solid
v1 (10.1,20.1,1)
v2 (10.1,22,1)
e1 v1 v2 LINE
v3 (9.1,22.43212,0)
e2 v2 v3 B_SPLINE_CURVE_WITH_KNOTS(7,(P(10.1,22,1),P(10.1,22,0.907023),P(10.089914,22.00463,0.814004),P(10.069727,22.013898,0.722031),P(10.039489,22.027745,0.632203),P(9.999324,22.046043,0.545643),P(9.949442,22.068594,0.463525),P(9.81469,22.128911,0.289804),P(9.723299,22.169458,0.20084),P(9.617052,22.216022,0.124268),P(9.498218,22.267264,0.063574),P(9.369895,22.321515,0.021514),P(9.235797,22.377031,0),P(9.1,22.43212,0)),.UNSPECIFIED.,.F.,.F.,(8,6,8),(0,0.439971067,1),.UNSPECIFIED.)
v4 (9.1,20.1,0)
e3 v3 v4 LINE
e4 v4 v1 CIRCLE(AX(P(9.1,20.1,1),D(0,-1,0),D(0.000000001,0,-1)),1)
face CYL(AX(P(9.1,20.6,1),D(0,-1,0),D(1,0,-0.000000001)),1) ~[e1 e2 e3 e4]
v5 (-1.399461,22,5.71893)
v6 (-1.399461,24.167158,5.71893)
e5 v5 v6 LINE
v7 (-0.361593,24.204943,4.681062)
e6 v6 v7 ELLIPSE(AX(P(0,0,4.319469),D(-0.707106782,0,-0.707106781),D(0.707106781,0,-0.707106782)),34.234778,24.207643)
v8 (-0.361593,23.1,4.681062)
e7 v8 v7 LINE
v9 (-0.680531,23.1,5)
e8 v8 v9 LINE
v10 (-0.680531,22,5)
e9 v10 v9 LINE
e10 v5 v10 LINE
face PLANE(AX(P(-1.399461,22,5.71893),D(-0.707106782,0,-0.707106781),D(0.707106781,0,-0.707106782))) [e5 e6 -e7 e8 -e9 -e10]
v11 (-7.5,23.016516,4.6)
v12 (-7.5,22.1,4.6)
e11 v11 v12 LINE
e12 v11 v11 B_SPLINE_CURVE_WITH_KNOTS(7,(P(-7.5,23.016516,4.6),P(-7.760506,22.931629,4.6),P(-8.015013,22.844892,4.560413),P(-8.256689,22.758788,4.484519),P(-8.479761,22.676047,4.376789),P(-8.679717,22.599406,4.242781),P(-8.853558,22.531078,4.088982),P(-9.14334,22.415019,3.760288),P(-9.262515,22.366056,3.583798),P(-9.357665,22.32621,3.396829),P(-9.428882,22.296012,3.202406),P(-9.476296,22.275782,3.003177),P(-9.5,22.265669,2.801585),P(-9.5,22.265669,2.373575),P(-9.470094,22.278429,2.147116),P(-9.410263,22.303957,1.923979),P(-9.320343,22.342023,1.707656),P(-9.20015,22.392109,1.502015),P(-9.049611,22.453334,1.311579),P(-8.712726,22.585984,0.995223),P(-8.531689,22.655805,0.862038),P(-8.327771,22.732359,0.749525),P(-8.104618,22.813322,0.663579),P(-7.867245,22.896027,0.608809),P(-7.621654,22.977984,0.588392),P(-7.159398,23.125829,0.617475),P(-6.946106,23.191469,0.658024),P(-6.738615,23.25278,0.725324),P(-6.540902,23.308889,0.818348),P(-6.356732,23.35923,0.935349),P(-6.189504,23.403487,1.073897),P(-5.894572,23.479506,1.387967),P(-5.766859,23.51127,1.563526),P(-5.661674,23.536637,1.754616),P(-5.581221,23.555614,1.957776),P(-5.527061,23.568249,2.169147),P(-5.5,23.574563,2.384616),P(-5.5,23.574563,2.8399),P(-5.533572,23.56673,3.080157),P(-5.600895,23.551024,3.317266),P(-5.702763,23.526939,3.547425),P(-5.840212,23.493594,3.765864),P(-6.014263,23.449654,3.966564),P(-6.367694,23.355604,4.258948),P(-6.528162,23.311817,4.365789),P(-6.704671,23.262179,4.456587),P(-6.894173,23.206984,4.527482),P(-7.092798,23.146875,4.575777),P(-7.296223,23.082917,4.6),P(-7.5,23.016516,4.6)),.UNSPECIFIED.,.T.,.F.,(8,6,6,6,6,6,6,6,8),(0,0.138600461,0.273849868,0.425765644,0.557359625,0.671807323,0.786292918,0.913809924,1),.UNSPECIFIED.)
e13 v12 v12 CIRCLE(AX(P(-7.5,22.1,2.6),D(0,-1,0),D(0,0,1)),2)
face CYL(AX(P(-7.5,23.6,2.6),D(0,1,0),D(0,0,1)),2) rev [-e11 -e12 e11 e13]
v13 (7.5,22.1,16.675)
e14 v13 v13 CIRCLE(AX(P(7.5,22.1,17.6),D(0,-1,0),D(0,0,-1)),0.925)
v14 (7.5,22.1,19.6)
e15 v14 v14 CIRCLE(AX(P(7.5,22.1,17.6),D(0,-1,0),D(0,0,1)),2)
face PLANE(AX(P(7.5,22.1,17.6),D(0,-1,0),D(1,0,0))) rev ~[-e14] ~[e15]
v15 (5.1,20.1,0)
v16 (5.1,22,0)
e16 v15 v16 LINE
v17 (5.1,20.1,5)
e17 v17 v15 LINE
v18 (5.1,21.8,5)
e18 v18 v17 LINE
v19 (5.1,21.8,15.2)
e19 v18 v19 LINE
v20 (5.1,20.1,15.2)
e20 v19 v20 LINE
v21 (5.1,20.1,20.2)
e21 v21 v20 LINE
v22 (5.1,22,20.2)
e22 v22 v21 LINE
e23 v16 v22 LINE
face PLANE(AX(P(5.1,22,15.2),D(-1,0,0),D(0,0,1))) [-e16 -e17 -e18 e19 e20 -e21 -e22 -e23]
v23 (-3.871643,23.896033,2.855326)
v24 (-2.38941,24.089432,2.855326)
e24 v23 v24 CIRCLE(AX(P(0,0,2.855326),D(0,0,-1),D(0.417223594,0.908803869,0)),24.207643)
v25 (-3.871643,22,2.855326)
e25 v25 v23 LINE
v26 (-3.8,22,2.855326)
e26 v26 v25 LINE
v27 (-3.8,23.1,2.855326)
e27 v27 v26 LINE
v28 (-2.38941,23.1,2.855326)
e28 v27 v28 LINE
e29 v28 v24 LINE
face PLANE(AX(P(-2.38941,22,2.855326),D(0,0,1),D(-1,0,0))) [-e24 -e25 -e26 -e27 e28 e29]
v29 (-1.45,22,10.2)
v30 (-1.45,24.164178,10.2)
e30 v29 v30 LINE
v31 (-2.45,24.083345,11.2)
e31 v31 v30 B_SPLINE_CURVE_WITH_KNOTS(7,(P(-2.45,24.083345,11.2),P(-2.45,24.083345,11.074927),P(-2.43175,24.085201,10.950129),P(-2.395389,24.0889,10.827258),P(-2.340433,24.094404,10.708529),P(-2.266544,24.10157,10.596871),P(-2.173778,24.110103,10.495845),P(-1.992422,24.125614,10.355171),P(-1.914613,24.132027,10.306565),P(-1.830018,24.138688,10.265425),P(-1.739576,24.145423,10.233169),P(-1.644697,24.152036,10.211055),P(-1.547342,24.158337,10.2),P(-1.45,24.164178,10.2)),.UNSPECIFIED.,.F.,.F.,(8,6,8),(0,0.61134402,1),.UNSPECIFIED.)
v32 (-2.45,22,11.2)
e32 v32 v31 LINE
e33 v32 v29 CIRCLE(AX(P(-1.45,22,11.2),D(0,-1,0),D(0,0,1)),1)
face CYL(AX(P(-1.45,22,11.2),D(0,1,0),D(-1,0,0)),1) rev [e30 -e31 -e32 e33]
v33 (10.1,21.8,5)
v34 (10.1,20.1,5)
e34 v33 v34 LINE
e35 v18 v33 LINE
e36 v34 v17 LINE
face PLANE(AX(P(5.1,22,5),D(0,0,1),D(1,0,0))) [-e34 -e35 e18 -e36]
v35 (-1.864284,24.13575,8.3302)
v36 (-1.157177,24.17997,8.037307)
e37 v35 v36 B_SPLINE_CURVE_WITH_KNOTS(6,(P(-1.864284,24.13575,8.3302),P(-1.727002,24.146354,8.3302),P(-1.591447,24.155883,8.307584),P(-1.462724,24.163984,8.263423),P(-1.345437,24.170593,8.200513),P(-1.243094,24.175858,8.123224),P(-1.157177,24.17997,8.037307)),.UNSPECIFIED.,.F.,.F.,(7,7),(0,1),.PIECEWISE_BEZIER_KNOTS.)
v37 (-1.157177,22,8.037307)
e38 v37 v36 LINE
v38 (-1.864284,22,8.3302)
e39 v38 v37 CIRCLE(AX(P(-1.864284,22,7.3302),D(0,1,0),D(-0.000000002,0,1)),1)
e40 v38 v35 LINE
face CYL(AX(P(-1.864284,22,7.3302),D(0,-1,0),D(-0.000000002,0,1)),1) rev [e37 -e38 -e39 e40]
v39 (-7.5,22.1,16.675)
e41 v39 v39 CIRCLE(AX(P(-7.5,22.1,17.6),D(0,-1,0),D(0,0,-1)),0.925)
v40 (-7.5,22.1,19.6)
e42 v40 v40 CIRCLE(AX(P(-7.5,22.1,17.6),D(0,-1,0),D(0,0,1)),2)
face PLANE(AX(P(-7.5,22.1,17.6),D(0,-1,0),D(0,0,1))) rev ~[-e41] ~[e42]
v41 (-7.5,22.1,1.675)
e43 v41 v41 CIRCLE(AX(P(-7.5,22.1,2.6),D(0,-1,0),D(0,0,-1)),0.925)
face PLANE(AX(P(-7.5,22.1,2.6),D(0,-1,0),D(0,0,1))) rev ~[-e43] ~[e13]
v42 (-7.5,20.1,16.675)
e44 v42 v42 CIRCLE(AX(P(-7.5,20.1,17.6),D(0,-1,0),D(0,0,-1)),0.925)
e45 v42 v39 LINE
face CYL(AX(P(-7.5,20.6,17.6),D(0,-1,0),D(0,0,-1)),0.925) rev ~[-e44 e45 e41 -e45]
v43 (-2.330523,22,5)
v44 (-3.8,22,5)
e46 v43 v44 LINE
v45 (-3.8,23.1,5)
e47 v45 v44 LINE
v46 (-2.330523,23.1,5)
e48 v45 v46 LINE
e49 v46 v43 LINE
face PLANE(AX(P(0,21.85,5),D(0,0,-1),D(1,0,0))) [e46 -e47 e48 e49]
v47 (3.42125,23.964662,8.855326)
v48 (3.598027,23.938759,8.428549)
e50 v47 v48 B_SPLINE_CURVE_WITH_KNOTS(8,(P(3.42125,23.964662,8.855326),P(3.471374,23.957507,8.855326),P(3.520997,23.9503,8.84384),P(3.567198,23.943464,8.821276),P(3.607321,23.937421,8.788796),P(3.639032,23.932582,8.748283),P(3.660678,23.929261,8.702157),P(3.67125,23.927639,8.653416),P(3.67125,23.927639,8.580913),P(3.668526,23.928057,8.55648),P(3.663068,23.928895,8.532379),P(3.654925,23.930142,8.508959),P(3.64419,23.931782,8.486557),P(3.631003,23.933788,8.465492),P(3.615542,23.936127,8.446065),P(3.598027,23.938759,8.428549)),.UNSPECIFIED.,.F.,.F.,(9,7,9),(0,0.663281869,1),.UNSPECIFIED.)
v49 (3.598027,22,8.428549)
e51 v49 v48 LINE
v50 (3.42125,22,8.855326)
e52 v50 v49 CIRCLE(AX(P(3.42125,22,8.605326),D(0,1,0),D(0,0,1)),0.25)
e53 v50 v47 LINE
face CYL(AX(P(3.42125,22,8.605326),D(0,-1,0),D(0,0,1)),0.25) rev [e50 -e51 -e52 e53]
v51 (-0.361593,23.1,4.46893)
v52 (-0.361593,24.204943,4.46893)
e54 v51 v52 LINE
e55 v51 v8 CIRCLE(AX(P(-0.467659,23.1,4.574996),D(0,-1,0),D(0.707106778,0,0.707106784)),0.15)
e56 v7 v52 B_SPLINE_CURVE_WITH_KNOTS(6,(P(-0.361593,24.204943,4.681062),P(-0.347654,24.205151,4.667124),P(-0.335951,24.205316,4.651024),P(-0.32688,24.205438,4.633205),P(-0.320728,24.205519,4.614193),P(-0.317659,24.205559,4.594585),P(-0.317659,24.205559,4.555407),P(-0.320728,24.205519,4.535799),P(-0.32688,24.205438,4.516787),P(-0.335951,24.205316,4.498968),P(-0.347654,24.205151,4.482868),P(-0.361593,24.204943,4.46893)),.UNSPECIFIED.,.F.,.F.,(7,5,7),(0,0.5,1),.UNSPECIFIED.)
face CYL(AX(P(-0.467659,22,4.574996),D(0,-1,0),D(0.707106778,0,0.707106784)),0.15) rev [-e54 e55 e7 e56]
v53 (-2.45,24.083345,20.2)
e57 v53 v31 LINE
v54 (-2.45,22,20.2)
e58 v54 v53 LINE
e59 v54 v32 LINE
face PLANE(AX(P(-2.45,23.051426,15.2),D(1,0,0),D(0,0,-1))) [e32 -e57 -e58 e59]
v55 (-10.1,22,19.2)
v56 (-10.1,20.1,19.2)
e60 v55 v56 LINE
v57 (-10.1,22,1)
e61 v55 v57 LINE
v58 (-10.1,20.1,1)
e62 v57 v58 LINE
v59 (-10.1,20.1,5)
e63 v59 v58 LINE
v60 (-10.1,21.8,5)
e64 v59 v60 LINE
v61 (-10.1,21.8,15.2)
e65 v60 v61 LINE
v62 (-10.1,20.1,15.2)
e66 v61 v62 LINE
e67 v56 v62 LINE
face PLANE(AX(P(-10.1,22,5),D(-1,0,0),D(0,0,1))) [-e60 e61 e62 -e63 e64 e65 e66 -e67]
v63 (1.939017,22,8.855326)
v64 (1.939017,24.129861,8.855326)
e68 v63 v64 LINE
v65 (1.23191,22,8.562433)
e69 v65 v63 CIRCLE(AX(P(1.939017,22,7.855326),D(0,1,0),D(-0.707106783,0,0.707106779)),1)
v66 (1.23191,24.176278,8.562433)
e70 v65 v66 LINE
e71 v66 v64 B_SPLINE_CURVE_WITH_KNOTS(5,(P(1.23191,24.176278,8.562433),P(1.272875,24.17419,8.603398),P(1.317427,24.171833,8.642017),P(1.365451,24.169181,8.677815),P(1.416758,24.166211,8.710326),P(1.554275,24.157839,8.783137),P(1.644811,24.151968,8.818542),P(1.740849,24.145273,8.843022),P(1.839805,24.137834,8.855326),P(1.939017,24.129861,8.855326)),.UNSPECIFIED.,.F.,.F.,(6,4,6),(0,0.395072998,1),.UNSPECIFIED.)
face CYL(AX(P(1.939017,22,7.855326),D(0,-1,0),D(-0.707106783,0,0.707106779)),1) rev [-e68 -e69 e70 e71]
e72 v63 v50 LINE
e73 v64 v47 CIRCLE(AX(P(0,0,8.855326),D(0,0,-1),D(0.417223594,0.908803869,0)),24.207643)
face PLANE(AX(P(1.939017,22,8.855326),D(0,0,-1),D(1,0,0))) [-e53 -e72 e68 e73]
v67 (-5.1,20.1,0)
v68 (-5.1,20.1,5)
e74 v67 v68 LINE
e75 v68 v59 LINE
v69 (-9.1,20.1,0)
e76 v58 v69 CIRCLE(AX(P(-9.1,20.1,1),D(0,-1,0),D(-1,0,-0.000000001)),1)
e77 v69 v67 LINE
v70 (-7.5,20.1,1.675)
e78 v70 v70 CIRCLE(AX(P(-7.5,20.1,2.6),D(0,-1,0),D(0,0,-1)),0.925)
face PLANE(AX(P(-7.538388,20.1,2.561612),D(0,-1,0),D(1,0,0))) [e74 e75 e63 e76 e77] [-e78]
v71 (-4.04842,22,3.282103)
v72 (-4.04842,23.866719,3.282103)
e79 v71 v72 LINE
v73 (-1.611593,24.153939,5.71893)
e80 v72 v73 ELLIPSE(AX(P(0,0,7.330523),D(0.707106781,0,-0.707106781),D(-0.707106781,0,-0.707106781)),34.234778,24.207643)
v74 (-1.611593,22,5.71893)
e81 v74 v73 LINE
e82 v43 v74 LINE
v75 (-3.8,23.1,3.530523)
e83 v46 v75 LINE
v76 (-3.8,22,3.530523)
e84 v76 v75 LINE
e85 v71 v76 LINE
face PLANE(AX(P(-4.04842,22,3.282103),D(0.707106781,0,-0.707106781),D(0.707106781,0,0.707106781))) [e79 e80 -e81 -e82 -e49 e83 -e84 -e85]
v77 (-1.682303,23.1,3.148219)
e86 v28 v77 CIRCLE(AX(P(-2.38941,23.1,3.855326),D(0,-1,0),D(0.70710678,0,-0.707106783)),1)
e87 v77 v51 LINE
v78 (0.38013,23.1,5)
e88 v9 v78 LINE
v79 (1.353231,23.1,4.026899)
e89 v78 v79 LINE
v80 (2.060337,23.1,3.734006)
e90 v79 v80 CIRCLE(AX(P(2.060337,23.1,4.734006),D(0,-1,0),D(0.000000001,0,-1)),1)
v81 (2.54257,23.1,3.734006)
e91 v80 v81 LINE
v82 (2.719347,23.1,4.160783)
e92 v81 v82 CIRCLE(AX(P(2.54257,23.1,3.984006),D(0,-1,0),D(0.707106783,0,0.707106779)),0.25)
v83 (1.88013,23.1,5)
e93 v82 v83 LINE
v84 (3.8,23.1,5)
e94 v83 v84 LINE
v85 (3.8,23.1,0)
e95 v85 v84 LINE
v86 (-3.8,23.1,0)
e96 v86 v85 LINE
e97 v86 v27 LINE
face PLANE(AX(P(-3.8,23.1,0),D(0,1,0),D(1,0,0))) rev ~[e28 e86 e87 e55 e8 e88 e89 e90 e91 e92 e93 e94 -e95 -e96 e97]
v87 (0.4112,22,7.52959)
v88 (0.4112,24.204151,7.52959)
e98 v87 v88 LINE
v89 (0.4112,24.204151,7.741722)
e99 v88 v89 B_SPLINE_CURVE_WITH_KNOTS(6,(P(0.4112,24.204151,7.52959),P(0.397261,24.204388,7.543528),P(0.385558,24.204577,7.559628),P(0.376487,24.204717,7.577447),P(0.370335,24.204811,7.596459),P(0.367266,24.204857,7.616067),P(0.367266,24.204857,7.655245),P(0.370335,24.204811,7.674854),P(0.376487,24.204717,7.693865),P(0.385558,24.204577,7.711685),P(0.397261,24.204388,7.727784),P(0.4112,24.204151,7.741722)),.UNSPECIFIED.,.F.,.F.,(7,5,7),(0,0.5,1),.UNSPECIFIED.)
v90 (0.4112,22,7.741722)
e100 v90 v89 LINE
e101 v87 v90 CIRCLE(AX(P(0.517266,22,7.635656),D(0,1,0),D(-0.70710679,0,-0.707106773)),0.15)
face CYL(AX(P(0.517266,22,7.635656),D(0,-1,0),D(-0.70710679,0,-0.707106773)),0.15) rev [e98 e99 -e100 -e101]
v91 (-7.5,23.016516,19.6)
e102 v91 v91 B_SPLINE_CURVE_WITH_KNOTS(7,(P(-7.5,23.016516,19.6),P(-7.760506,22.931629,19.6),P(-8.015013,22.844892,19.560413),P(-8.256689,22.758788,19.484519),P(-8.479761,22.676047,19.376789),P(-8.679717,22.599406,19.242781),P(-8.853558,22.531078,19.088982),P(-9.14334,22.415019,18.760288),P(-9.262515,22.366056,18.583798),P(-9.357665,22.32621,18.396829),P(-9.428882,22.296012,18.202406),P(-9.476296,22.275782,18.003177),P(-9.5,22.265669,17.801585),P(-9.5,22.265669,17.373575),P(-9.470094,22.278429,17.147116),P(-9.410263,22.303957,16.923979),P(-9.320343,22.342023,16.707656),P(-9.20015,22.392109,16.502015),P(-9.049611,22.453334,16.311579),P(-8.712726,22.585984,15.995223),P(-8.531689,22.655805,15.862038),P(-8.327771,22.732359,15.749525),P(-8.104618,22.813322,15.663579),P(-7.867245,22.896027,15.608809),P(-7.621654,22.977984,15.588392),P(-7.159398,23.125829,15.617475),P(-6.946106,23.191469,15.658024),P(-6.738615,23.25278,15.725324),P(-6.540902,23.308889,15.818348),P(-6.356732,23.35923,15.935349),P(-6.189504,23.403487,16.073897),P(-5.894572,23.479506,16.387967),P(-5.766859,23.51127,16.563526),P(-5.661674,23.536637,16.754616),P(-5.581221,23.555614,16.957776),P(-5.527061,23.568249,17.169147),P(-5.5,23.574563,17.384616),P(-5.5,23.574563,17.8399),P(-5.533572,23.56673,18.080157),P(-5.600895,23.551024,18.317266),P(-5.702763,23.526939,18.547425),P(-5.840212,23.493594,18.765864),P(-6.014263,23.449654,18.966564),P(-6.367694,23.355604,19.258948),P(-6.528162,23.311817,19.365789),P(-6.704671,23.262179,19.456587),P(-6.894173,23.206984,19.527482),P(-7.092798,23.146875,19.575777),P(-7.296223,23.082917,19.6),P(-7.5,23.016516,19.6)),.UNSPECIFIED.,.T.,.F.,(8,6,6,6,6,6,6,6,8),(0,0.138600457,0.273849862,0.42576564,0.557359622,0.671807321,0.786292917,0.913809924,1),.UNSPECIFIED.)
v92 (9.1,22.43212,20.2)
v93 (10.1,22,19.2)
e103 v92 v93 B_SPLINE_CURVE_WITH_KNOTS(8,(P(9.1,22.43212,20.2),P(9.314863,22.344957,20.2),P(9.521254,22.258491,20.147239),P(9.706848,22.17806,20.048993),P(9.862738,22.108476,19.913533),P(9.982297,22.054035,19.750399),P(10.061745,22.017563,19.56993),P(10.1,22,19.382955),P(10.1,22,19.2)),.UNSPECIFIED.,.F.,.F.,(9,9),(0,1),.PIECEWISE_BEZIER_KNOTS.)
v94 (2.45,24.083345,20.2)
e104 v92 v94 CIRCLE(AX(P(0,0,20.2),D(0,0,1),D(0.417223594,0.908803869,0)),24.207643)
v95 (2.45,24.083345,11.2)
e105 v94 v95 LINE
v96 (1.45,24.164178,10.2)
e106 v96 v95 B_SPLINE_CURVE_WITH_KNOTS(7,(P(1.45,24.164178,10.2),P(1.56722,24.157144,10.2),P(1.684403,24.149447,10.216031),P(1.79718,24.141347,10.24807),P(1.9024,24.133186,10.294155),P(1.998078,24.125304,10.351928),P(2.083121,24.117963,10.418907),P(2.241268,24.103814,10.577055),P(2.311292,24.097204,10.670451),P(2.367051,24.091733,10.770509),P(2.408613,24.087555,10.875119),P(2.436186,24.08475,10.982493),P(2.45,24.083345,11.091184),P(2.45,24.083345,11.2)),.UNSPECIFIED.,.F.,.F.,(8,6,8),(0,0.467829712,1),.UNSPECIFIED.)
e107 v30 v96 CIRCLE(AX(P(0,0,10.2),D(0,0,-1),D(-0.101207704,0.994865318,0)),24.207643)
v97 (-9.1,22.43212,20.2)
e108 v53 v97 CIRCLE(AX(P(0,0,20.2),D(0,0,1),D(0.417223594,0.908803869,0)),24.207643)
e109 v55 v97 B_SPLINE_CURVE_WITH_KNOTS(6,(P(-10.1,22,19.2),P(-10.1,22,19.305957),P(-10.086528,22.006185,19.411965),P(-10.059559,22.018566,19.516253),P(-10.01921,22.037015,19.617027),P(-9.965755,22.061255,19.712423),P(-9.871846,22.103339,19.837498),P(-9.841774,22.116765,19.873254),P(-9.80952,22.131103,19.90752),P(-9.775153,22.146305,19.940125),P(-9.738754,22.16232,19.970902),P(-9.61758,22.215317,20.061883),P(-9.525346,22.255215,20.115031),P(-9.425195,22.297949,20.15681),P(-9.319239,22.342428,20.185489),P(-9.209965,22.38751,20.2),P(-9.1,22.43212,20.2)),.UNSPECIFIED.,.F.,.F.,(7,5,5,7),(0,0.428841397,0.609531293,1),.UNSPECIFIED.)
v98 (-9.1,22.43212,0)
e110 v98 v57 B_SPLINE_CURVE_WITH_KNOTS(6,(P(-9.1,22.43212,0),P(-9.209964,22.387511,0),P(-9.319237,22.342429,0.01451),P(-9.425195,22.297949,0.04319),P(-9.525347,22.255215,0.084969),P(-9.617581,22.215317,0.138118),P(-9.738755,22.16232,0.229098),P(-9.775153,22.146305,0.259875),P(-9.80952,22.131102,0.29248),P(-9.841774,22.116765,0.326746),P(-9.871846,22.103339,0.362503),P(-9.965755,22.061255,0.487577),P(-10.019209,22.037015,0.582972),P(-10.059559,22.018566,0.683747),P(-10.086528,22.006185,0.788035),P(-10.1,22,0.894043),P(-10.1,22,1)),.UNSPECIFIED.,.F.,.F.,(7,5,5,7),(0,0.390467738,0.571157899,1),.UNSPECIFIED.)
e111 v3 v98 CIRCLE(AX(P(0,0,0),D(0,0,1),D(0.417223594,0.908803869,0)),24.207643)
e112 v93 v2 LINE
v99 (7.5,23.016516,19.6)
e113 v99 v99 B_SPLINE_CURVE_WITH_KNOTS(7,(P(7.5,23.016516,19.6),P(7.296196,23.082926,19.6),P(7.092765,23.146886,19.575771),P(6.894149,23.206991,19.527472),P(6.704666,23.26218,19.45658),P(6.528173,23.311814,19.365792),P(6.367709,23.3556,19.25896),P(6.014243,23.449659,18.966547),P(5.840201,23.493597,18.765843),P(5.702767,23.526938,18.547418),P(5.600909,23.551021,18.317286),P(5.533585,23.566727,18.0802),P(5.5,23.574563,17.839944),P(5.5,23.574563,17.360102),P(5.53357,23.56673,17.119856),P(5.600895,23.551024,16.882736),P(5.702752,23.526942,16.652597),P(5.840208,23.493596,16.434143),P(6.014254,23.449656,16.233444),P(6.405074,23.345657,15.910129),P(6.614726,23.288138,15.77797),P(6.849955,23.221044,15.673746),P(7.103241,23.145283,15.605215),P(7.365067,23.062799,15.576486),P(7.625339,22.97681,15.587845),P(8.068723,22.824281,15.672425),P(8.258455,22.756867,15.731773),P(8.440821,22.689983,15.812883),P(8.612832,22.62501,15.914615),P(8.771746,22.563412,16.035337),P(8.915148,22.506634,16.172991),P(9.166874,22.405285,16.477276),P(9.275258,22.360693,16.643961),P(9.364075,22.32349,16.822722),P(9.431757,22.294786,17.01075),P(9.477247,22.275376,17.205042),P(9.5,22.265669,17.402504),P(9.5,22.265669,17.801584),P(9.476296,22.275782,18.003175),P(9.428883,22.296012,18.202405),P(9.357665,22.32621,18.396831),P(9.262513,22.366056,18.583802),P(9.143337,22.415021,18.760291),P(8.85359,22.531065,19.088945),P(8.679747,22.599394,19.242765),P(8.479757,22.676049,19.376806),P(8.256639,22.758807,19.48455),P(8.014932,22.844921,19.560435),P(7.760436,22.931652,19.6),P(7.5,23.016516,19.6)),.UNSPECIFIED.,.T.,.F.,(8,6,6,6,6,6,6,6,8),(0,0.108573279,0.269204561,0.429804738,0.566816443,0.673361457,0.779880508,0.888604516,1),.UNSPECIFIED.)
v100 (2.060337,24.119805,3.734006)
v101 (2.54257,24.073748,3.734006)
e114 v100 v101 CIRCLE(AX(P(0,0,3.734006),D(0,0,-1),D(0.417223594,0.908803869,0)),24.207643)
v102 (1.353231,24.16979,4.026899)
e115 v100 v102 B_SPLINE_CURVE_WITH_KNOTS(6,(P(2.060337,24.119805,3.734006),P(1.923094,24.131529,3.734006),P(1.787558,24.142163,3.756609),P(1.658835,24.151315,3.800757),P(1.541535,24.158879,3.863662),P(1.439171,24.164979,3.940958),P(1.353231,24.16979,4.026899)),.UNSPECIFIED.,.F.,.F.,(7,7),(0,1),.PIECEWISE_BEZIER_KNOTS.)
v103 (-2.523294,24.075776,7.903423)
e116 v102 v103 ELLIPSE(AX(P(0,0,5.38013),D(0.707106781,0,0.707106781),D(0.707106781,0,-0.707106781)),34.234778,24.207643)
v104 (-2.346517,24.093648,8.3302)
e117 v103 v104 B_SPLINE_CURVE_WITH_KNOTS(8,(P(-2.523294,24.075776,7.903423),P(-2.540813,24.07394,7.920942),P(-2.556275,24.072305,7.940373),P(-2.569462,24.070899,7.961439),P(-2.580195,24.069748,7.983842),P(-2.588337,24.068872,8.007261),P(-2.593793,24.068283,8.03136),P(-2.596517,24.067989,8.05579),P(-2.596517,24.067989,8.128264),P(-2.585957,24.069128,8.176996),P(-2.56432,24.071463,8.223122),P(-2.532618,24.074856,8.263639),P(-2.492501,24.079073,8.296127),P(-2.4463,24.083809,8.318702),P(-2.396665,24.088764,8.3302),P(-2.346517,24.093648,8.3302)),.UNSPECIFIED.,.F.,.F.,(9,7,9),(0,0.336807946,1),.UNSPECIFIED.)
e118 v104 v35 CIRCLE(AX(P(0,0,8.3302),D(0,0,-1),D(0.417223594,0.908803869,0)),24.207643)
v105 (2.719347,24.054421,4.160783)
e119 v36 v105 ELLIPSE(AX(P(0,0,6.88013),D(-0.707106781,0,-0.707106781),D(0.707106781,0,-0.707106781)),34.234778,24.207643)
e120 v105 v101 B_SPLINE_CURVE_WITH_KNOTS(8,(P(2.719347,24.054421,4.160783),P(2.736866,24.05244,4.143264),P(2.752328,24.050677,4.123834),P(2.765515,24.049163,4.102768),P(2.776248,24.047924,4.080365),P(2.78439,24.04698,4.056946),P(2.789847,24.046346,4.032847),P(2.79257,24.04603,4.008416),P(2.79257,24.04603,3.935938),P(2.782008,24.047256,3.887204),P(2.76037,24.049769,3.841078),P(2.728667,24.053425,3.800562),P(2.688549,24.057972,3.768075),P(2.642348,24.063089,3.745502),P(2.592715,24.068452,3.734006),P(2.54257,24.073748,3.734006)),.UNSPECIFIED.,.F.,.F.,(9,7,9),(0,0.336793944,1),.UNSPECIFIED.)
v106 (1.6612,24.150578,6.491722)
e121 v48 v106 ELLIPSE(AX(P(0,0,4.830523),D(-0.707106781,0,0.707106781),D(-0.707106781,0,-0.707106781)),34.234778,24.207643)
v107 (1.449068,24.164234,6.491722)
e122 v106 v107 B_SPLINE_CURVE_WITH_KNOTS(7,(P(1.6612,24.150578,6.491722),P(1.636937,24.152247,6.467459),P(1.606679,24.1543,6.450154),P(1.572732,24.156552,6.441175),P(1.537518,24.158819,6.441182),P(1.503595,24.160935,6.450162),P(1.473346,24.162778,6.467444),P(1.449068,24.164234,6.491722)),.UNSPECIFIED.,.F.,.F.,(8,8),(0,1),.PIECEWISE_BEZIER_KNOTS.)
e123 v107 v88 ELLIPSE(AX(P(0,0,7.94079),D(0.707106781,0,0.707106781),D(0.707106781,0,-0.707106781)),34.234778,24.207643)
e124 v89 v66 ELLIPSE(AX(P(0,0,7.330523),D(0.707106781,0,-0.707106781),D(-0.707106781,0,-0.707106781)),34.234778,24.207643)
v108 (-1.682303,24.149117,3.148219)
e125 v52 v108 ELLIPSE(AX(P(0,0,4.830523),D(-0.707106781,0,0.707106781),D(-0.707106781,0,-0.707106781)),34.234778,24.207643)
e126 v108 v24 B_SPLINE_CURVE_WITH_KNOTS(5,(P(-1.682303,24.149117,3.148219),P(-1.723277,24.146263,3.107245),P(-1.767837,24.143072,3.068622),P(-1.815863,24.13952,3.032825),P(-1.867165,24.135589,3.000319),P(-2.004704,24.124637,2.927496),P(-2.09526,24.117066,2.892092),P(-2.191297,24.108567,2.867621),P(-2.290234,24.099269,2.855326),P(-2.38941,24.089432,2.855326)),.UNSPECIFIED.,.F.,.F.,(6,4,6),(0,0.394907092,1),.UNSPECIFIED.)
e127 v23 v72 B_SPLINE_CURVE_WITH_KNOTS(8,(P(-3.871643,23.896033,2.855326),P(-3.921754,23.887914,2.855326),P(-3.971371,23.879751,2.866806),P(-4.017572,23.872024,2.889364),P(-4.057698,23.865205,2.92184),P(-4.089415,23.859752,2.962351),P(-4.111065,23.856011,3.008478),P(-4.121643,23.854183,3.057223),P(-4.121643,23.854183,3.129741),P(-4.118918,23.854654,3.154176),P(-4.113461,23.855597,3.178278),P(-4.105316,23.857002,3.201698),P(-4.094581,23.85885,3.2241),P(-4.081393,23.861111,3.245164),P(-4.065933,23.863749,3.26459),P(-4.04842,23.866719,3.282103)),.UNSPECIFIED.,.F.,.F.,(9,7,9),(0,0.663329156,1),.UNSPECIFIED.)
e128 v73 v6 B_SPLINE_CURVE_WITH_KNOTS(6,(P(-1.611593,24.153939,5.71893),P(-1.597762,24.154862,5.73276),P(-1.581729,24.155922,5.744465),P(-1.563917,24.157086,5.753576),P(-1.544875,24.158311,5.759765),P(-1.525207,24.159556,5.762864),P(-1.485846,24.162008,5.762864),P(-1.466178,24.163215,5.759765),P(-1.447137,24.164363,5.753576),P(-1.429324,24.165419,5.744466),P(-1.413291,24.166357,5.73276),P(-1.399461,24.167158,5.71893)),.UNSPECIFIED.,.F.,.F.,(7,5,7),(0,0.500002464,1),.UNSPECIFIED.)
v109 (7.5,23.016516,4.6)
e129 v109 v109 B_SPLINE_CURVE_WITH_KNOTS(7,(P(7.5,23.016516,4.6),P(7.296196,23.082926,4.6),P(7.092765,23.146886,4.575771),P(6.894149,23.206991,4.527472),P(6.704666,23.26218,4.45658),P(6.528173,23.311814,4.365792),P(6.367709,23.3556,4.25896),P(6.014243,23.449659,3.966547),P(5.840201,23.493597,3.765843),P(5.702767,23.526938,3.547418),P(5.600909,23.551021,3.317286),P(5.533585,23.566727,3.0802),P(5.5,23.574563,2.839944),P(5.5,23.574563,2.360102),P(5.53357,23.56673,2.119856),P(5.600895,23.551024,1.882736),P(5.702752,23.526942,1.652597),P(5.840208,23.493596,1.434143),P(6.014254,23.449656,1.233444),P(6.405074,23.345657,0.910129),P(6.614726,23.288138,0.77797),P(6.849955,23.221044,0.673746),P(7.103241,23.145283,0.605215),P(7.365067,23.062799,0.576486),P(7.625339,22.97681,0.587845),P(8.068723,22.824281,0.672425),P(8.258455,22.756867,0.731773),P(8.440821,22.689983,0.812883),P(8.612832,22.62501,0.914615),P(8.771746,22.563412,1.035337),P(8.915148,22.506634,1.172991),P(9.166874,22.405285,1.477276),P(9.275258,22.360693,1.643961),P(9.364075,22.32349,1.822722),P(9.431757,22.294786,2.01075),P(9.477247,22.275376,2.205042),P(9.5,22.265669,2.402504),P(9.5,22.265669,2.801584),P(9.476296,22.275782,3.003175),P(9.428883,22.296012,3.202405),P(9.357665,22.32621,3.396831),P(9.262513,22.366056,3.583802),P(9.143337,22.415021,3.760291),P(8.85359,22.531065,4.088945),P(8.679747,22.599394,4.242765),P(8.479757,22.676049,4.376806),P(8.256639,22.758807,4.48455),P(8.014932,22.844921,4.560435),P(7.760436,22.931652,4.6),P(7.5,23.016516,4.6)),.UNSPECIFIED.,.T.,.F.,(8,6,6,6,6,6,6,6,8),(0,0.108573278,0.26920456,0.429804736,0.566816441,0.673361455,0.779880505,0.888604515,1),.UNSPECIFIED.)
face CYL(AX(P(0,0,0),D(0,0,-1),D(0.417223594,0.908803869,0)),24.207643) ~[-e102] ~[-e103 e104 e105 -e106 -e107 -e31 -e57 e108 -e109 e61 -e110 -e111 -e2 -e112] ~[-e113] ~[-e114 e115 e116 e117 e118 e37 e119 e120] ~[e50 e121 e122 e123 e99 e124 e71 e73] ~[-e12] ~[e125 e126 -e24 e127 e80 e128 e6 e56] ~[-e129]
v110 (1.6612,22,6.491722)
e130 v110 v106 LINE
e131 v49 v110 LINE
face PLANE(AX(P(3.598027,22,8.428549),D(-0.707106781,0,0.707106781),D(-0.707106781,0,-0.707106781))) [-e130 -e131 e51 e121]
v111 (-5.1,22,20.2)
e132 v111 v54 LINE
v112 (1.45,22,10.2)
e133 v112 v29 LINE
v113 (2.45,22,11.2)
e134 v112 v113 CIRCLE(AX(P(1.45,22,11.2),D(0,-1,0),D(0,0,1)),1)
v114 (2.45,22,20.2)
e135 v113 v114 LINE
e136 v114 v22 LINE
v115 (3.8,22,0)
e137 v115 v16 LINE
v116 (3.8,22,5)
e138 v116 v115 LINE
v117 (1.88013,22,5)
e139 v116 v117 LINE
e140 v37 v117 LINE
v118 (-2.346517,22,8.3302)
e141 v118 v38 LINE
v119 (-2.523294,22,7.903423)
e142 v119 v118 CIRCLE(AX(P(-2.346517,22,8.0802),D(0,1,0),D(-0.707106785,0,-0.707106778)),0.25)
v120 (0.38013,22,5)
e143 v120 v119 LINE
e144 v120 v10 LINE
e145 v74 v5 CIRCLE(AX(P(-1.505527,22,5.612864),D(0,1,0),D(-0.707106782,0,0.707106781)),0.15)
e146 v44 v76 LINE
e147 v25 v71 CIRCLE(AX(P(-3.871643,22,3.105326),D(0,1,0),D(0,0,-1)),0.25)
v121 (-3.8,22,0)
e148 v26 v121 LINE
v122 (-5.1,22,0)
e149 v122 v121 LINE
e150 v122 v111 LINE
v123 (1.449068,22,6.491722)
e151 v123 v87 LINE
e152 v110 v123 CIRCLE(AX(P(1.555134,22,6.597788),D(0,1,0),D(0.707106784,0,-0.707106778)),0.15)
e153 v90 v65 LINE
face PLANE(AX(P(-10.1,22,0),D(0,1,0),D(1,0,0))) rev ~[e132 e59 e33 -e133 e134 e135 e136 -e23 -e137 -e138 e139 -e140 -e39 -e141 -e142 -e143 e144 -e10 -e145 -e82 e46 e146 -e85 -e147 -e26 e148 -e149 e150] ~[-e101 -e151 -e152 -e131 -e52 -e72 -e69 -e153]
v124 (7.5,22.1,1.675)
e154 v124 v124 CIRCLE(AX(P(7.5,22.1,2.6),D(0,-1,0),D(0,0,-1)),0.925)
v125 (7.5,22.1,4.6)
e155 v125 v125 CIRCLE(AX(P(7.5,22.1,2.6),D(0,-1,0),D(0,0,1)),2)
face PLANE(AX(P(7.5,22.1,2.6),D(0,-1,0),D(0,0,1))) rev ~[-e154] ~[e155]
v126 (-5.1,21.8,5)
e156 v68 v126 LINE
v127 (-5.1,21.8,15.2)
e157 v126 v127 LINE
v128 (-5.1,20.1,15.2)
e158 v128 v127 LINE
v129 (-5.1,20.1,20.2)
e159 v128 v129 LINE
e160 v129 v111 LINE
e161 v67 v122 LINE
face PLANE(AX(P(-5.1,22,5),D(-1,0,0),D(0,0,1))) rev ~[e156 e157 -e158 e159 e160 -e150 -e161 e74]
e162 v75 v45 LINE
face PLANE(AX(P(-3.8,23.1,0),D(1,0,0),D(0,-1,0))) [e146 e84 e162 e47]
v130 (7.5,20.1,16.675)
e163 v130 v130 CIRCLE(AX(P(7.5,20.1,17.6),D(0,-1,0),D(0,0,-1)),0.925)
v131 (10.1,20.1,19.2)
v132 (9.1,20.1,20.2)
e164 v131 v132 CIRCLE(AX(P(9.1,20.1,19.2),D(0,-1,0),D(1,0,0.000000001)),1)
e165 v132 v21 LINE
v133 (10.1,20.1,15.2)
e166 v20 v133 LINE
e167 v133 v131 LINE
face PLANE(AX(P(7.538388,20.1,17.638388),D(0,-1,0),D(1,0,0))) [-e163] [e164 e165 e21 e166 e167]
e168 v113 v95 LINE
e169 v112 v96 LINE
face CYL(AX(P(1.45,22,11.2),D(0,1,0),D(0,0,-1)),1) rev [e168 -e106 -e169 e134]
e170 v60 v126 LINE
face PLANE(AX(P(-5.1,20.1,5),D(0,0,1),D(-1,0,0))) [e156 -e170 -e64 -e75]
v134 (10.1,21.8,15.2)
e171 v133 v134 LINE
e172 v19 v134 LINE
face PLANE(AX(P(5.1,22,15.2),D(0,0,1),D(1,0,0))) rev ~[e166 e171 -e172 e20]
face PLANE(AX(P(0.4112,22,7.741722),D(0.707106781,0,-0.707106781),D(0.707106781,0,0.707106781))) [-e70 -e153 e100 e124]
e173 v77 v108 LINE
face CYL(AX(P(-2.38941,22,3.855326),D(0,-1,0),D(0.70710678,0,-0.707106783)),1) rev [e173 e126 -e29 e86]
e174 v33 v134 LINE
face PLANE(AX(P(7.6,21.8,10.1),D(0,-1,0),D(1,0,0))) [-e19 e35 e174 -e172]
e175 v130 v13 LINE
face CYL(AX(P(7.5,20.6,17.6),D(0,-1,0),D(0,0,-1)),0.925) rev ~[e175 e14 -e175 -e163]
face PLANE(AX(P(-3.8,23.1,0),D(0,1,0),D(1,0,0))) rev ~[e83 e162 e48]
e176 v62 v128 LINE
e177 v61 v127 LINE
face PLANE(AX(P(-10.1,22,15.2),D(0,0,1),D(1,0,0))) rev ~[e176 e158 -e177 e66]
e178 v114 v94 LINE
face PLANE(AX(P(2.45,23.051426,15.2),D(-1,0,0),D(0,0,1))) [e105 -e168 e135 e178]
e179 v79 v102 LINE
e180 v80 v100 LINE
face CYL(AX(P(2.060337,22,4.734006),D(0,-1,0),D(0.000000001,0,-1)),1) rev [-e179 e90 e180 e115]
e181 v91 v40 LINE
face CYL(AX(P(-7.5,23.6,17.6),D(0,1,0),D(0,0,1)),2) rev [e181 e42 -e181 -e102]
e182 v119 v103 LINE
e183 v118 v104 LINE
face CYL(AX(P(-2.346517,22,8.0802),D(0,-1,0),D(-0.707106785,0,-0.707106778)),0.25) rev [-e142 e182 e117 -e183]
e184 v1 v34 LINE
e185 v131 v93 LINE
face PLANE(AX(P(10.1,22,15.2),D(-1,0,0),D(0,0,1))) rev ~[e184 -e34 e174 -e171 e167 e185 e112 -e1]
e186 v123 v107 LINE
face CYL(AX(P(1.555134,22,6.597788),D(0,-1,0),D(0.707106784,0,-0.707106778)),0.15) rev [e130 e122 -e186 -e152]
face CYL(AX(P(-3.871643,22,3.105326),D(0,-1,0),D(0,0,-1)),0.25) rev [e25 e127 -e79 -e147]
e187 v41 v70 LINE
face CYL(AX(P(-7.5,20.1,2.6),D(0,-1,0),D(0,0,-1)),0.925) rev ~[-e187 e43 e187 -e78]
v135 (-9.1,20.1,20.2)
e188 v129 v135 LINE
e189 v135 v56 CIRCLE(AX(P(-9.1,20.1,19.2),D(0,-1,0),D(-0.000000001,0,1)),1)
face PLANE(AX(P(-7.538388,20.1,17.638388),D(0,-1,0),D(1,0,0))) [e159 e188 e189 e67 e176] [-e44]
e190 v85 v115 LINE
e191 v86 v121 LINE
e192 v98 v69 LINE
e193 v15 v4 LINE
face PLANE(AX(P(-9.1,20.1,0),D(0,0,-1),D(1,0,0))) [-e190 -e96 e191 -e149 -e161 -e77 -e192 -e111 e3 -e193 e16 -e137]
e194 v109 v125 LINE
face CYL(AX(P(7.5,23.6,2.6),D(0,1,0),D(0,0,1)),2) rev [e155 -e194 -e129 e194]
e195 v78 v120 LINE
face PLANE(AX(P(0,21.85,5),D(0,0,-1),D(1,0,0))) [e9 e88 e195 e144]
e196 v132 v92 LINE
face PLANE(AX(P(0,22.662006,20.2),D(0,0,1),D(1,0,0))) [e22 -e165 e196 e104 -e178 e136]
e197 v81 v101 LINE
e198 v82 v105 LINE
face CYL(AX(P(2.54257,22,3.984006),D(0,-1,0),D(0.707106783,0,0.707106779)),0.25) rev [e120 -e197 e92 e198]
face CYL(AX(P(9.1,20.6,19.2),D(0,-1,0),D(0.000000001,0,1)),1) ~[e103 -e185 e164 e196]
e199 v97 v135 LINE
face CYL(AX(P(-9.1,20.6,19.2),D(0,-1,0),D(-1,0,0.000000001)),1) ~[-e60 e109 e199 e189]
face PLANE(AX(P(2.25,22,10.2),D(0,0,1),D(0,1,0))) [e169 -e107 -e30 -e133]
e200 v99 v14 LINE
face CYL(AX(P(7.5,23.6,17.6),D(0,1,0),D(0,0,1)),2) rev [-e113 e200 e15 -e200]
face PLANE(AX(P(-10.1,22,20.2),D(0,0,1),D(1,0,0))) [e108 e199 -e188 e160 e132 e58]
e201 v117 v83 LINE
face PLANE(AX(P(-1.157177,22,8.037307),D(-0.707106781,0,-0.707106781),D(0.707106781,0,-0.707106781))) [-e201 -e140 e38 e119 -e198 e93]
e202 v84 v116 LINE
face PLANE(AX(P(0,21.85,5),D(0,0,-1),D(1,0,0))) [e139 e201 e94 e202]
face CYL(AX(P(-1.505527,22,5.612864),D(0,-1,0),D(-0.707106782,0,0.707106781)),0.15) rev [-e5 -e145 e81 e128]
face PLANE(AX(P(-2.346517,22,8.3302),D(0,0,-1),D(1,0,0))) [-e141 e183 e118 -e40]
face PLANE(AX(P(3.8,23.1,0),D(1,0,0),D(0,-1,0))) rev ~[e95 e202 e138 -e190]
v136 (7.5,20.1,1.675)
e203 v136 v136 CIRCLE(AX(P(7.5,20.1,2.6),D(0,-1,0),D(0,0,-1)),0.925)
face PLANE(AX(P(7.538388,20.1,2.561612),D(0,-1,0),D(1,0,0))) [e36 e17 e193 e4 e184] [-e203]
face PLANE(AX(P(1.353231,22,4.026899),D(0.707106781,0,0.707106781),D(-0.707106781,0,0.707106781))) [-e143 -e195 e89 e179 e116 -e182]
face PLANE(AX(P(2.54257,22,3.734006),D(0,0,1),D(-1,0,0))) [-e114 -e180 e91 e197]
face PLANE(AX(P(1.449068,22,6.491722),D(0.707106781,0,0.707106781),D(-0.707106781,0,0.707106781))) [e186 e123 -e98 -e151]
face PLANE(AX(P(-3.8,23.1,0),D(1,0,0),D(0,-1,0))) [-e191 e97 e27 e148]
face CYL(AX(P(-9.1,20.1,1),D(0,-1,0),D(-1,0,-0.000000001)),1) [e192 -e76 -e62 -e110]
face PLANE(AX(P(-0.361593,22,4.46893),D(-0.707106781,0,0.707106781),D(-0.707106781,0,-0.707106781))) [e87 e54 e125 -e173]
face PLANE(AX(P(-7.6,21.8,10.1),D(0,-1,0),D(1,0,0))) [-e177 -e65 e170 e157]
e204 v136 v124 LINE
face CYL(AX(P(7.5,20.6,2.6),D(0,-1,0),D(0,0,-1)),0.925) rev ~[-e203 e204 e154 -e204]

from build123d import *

# Parameters (mm, degrees)
EXTRUDE_1_DEPTH     = 20.2
SKETCH_4_W          = 4.5
SKETCH_4_H          = 1.2
CUT_EXTRUDE_1_DEPTH = 10
SKETCH_5_W          = 4.5
SKETCH_5_H          = 10
CUT_EXTRUDE_2_DEPTH = 10
SKETCH_6_W          = 5
SKETCH_6_H          = 5
EXTRUDE_2_DEPTH     = 1.4
SKETCH_7_W          = 7.6
SKETCH_7_H          = 2.5
CUT_EXTRUDE_3_DEPTH = 5
SKETCH_8_R          = 1
CUT_EXTRUDE_4_DEPTH = 5
SKETCH_9_R          = 2
CUT_EXTRUDE_5_DEPTH = 1.5
CUT_EXTRUDE_6_DEPTH = 5
CUT_EXTRUDE_7_DEPTH = 5
SKETCH_12_R         = 1
SKETCH_12_R_2       = 0.925
EXTRUDE_3_DEPTH     = 1.5
SKETCH_13_W         = 10
SKETCH_13_H         = 2.102852528
CUT_EXTRUDE_8_DEPTH = 0.2
SKETCH_14_W         = 10
SKETCH_14_H         = 2.102852528
CUT_EXTRUDE_9_DEPTH = 0.2
FILLET_2_R          = 1
EXTRUDE_START       = 0.5
SKETCH_15_R         = 0.925
EXTRUDE_4_DEPTH     = 0.5
SKETCH_16_W         = 5
SKETCH_16_H         = 10.2
EXTRUDE_5_DEPTH     = 0.2


with BuildPart() as part:
    # 草图3 → 凸台-拉伸1 (new body)
    with BuildSketch(Plane.XY):
        with BuildLine():
            Line((-10.1, 22), (10.1, 22))
            ThreePointArc((10.1, 22), (0, 24.207643421), (-10.1, 22))
        make_face()
    extrude(amount=EXTRUDE_1_DEPTH)

    # 草图4 → 切除-拉伸1 (cut)
    with BuildSketch(Plane(origin=(6.414908285, -11.03, 20.2), x_dir=(1, 0, 0), z_dir=(0, 0, 1))):
        with Locations((-6.414908285, 33.63)):
            Rectangle(SKETCH_4_W, SKETCH_4_H)
    extrude(amount=-CUT_EXTRUDE_1_DEPTH, mode=Mode.SUBTRACT)

    # 草图5 → 切除-拉伸2 (cut)
    with BuildSketch(Plane.XZ.offset(-23.2)):
        with Locations((0, 15.2)):
            Rectangle(SKETCH_5_W, SKETCH_5_H)
    extrude(amount=-CUT_EXTRUDE_2_DEPTH, mode=Mode.SUBTRACT)

    # 草图6 → 凸台-拉伸2 (add)
    with BuildSketch(Plane.XZ.offset(-22)):
        with Locations((-7.6, 17.7)):
            Rectangle(SKETCH_6_W, SKETCH_6_H)
        with Locations((-7.6, 2.5)):
            Rectangle(SKETCH_6_W, SKETCH_6_H)
        with Locations((7.6, 2.5)):
            Rectangle(SKETCH_6_W, SKETCH_6_H)
        with Locations((7.6, 17.7)):
            Rectangle(SKETCH_6_W, SKETCH_6_H)
    extrude(amount=EXTRUDE_2_DEPTH)

    # 草图7 → 切除-拉伸3 (cut)
    with BuildSketch(Plane(origin=(6.414908285, -11.03, 0), x_dir=(1, 0, 0), z_dir=(0, 0, -1))):
        with Locations((-6.414908285, -32.88)):
            Rectangle(SKETCH_7_W, SKETCH_7_H)
    extrude(amount=-CUT_EXTRUDE_3_DEPTH, mode=Mode.SUBTRACT)

    # 草图8 → 切除-拉伸4 (cut)
    with BuildSketch(Plane(origin=(6.414908285, 20.6, 10.797250082), x_dir=(-1, 0, 0), z_dir=(0, -1, 0))):
        with Locations(Location((13.914908285, -6.802749918, 0), (0, 0, 90))):
            Circle(SKETCH_8_R)
        with Locations(Location((-1.085091715, -6.802749918, 0), (0, 0, 90))):
            Circle(SKETCH_8_R)
        with Locations(Location((-1.085091715, 8.197250082, 0), (0, 0, 90))):
            Circle(SKETCH_8_R)
        with Locations(Location((13.914908285, 8.197250082, 0), (0, 0, 90))):
            Circle(SKETCH_8_R)
    extrude(amount=-CUT_EXTRUDE_4_DEPTH, mode=Mode.SUBTRACT)

    # 草图9 → 切除-拉伸5 (cut)
    with BuildSketch(Plane(origin=(0, 23.6, 0), x_dir=(-1, 0, 0), z_dir=(0, -1, 0))):
        with Locations(Location((7.5, -2.6, 0), (0, 0, 270))):
            Circle(SKETCH_9_R)
        with Locations(Location((-7.5, -2.6, 0), (0, 0, 270))):
            Circle(SKETCH_9_R)
        with Locations(Location((7.5, -17.6, 0), (0, 0, 270))):
            Circle(SKETCH_9_R)
        with Locations(Location((-7.5, -17.6, 0), (0, 0, 270))):
            Circle(SKETCH_9_R)
    extrude(amount=CUT_EXTRUDE_5_DEPTH, mode=Mode.SUBTRACT)

    # 草图10 → 切除-拉伸6 (cut)
    with BuildSketch(Plane(origin=(6.414908285, 22, 10.797250082), x_dir=(-1, 0, 0), z_dir=(0, -1, 0))):
        with BuildLine():
            Line((7.57208535, 2.759943394), (3.695561186, 6.636467557))
            ThreePointArc((3.695561186, 6.636467557), (3.641367999, 6.908915111), (3.872337882, 7.063244252))
            Line((3.872337882, 7.063244252), (4.354570929, 7.063244252))
            ThreePointArc((4.354570929, 7.063244252), (4.737254361, 6.987123785), (5.06167771, 6.770351034))
            Line((5.06167771, 6.770351034), (8.938201874, 2.89382687))
            ThreePointArc((8.938201874, 2.89382687), (8.992395061, 2.621379317), (8.761425178, 2.467050175))
            Line((8.761425178, 2.467050175), (8.279192131, 2.467050175))
            ThreePointArc((8.279192131, 2.467050175), (7.896508699, 2.543170642), (7.57208535, 2.759943394))
        make_face()
        with BuildLine():
            Line((4.965840766, 4.305527806), (6.003708732, 3.26765984))
            ThreePointArc((6.003708732, 3.26765984), (6.047642714, 3.161593823), (6.003708732, 3.055527806))
            Line((6.003708732, 3.055527806), (5.182998054, 2.234817128))
            ThreePointArc((5.182998054, 2.234817128), (4.858574705, 2.018044376), (4.475891272, 1.941923909))
            Line((4.475891272, 1.941923909), (2.993658225, 1.941923909))
            ThreePointArc((2.993658225, 1.941923909), (2.762688342, 2.096253051), (2.81688153, 2.368700604))
            Line((2.81688153, 2.368700604), (4.753708732, 4.305527806))
            ThreePointArc((4.753708732, 4.305527806), (4.859774749, 4.349461789), (4.965840766, 4.305527806))
        make_face()
        with BuildLine():
            Line((7.814368903, 5.078320012), (6.776500938, 6.116187978))
            ThreePointArc((6.776500938, 6.116187978), (6.732566955, 6.222253995), (6.776500938, 6.328320012))
            Line((6.776500938, 6.328320012), (8.097211616, 7.64903069))
            ThreePointArc((8.097211616, 7.64903069), (8.421634965, 7.865803441), (8.804318397, 7.941923909))
            Line((8.804318397, 7.941923909), (10.286551444, 7.941923909))
            ThreePointArc((10.286551444, 7.941923909), (10.517521327, 7.787594767), (10.463328139, 7.515147214))
            Line((10.463328139, 7.515147214), (8.026500938, 5.078320012))
            ThreePointArc((8.026500938, 5.078320012), (7.920434921, 5.034386029), (7.814368903, 5.078320012))
        make_face()
    extrude(amount=-CUT_EXTRUDE_6_DEPTH, mode=Mode.SUBTRACT)

    # 草图11 → 切除-拉伸7 (cut)
    with BuildSketch(Plane(origin=(6.414908285, 20.6, 10.797250082), x_dir=(-1, 0, 0), z_dir=(0, -1, 0))):
        with BuildLine():
            Line((16.514908285, -9.402749918), (16.514908285, -8.402749918))
            ThreePointArc((16.514908285, -8.402749918), (16.222015066, -9.109856699), (15.514908285, -9.402749918))
            Line((15.514908285, -9.402749918), (16.514908285, -9.402749918))
        make_face()
        with BuildLine():
            Line((-3.685091715, -9.402749918), (-2.685091715, -9.402749918))
            ThreePointArc((-2.685091715, -9.402749918), (-3.392198496, -9.109856699), (-3.685091715, -8.402749918))
            Line((-3.685091715, -8.402749918), (-3.685091715, -9.402749918))
        make_face()
        with BuildLine():
            Line((-3.685091715, 10.797250082), (-3.685091715, 9.797250082))
            ThreePointArc((-3.685091715, 9.797250082), (-3.392198496, 10.504356863), (-2.685091715, 10.797250082))
            Line((-2.685091715, 10.797250082), (-3.685091715, 10.797250082))
        make_face()
        with BuildLine():
            Line((16.514908285, 10.797250082), (15.514908285, 10.797250082))
            ThreePointArc((15.514908285, 10.797250082), (16.222015066, 10.504356863), (16.514908285, 9.797250082))
            Line((16.514908285, 9.797250082), (16.514908285, 10.797250082))
        make_face()
    extrude(amount=-CUT_EXTRUDE_7_DEPTH, mode=Mode.SUBTRACT)

    # 草图12 → 凸台-拉伸3 (add)
    # profile 1 of 4: a face of its own
    with BuildSketch(Plane.XZ.offset(-20.6)):
        with Locations((7.5, 17.6)):
            Circle(SKETCH_12_R)
        with Locations(Location((7.5, 17.6, 0), (0, 0, 270))):
            Circle(SKETCH_12_R_2, mode=Mode.SUBTRACT)
    # profile 2 of 4: a face of its own
    with BuildSketch(Plane.XZ.offset(-20.6)):
        with Locations((-7.5, 17.6)):
            Circle(SKETCH_12_R)
        with Locations(Location((-7.5, 17.6, 0), (0, 0, 270))):
            Circle(SKETCH_12_R_2, mode=Mode.SUBTRACT)
    # profile 3 of 4: a face of its own
    with BuildSketch(Plane.XZ.offset(-20.6)):
        with Locations((-7.5, 2.6)):
            Circle(SKETCH_12_R)
        with Locations(Location((-7.5, 2.6, 0), (0, 0, 270))):
            Circle(SKETCH_12_R_2, mode=Mode.SUBTRACT)
    # profile 4 of 4: a face of its own
    with BuildSketch(Plane.XZ.offset(-20.6)):
        with Locations((7.5, 2.6)):
            Circle(SKETCH_12_R)
        with Locations(Location((7.5, 2.6, 0), (0, 0, 270))):
            Circle(SKETCH_12_R_2, mode=Mode.SUBTRACT)
    extrude(amount=-EXTRUDE_3_DEPTH)

    # 草图13 → 切除-拉伸8 (cut)
    with BuildSketch(Plane.ZY.offset(-2.25)):
        with Locations((15.2, 23.051426264)):
            Rectangle(SKETCH_13_W, SKETCH_13_H)
    extrude(amount=-CUT_EXTRUDE_8_DEPTH, mode=Mode.SUBTRACT)

    # 草图14 → 切除-拉伸9 (cut)
    with BuildSketch(Plane(origin=(-2.25, 0, 0), x_dir=(0, 0, -1), z_dir=(1, 0, 0))):
        with Locations((-15.2, 23.051426264)):
            Rectangle(SKETCH_14_W, SKETCH_14_H)
    extrude(amount=-CUT_EXTRUDE_9_DEPTH, mode=Mode.SUBTRACT)

    # 圆角2
    fillet_2_edges = [part.edges().sort_by_distance(p)[0] for p in [
        (2.45, 23.041672434, 10.2),
        (-2.45, 23.041672434, 10.2),
    ]]
    fillet(fillet_2_edges, radius=FILLET_2_R)

    # 草图15 → 凸台-拉伸4 (add)
    # profile 1 of 4: a face of its own
    with BuildSketch(Plane.XZ.offset(-20.6).offset(EXTRUDE_START)):
        with BuildLine():
            Line((-10.1, 5), (-10.1, 1))
            ThreePointArc((-10.1, 1), (-9.807106781, 0.292893219), (-9.1, 0))
            Line((-9.1, 0), (-5.1, 0))
            Line((-5.1, 0), (-5.1, 5))
            Line((-5.1, 5), (-10.1, 5))
        make_face()
        with Locations(Location((-7.5, 2.6, 0), (0, 0, 270))):
            Circle(SKETCH_15_R, mode=Mode.SUBTRACT)
    # profile 2 of 4: a face of its own
    with BuildSketch(Plane.XZ.offset(-20.6).offset(EXTRUDE_START)):
        with BuildLine():
            Line((-10.1, 19.2), (-10.1, 15.2))
            Line((-10.1, 15.2), (-5.1, 15.2))
            Line((-5.1, 15.2), (-5.1, 20.2))
            Line((-5.1, 20.2), (-9.1, 20.2))
            ThreePointArc((-9.1, 20.2), (-9.807106781, 19.907106781), (-10.1, 19.2))
        make_face()
        with Locations(Location((-7.5, 17.6, 0), (0, 0, 270))):
            Circle(SKETCH_15_R, mode=Mode.SUBTRACT)
    # profile 3 of 4: a face of its own
    with BuildSketch(Plane.XZ.offset(-20.6).offset(EXTRUDE_START)):
        with BuildLine():
            Line((9.1, 20.2), (5.1, 20.2))
            Line((5.1, 20.2), (5.1, 15.2))
            Line((5.1, 15.2), (10.1, 15.2))
            Line((10.1, 15.2), (10.1, 19.2))
            ThreePointArc((10.1, 19.2), (9.807106781, 19.907106781), (9.1, 20.2))
        make_face()
        with Locations(Location((7.5, 17.6, 0), (0, 0, 270))):
            Circle(SKETCH_15_R, mode=Mode.SUBTRACT)
    # profile 4 of 4: a face of its own
    with BuildSketch(Plane.XZ.offset(-20.6).offset(EXTRUDE_START)):
        with BuildLine():
            Line((5.1, 0), (9.1, 0))
            ThreePointArc((9.1, 0), (9.807106781, 0.292893219), (10.1, 1))
            Line((10.1, 1), (10.1, 5))
            Line((10.1, 5), (5.1, 5))
            Line((5.1, 5), (5.1, 0))
        make_face()
        with Locations(Location((7.5, 2.6, 0), (0, 0, 270))):
            Circle(SKETCH_15_R, mode=Mode.SUBTRACT)
    extrude(amount=-EXTRUDE_4_DEPTH)

    # 草图16 → 凸台-拉伸5 (add)
    with BuildSketch(Plane.XZ.offset(-22)):
        with Locations((-7.6, 10.1)):
            Rectangle(SKETCH_16_W, SKETCH_16_H)
        with Locations((7.6, 10.1)):
            Rectangle(SKETCH_16_W, SKETCH_16_H)
    extrude(amount=EXTRUDE_5_DEPTH)


solid = part.part
